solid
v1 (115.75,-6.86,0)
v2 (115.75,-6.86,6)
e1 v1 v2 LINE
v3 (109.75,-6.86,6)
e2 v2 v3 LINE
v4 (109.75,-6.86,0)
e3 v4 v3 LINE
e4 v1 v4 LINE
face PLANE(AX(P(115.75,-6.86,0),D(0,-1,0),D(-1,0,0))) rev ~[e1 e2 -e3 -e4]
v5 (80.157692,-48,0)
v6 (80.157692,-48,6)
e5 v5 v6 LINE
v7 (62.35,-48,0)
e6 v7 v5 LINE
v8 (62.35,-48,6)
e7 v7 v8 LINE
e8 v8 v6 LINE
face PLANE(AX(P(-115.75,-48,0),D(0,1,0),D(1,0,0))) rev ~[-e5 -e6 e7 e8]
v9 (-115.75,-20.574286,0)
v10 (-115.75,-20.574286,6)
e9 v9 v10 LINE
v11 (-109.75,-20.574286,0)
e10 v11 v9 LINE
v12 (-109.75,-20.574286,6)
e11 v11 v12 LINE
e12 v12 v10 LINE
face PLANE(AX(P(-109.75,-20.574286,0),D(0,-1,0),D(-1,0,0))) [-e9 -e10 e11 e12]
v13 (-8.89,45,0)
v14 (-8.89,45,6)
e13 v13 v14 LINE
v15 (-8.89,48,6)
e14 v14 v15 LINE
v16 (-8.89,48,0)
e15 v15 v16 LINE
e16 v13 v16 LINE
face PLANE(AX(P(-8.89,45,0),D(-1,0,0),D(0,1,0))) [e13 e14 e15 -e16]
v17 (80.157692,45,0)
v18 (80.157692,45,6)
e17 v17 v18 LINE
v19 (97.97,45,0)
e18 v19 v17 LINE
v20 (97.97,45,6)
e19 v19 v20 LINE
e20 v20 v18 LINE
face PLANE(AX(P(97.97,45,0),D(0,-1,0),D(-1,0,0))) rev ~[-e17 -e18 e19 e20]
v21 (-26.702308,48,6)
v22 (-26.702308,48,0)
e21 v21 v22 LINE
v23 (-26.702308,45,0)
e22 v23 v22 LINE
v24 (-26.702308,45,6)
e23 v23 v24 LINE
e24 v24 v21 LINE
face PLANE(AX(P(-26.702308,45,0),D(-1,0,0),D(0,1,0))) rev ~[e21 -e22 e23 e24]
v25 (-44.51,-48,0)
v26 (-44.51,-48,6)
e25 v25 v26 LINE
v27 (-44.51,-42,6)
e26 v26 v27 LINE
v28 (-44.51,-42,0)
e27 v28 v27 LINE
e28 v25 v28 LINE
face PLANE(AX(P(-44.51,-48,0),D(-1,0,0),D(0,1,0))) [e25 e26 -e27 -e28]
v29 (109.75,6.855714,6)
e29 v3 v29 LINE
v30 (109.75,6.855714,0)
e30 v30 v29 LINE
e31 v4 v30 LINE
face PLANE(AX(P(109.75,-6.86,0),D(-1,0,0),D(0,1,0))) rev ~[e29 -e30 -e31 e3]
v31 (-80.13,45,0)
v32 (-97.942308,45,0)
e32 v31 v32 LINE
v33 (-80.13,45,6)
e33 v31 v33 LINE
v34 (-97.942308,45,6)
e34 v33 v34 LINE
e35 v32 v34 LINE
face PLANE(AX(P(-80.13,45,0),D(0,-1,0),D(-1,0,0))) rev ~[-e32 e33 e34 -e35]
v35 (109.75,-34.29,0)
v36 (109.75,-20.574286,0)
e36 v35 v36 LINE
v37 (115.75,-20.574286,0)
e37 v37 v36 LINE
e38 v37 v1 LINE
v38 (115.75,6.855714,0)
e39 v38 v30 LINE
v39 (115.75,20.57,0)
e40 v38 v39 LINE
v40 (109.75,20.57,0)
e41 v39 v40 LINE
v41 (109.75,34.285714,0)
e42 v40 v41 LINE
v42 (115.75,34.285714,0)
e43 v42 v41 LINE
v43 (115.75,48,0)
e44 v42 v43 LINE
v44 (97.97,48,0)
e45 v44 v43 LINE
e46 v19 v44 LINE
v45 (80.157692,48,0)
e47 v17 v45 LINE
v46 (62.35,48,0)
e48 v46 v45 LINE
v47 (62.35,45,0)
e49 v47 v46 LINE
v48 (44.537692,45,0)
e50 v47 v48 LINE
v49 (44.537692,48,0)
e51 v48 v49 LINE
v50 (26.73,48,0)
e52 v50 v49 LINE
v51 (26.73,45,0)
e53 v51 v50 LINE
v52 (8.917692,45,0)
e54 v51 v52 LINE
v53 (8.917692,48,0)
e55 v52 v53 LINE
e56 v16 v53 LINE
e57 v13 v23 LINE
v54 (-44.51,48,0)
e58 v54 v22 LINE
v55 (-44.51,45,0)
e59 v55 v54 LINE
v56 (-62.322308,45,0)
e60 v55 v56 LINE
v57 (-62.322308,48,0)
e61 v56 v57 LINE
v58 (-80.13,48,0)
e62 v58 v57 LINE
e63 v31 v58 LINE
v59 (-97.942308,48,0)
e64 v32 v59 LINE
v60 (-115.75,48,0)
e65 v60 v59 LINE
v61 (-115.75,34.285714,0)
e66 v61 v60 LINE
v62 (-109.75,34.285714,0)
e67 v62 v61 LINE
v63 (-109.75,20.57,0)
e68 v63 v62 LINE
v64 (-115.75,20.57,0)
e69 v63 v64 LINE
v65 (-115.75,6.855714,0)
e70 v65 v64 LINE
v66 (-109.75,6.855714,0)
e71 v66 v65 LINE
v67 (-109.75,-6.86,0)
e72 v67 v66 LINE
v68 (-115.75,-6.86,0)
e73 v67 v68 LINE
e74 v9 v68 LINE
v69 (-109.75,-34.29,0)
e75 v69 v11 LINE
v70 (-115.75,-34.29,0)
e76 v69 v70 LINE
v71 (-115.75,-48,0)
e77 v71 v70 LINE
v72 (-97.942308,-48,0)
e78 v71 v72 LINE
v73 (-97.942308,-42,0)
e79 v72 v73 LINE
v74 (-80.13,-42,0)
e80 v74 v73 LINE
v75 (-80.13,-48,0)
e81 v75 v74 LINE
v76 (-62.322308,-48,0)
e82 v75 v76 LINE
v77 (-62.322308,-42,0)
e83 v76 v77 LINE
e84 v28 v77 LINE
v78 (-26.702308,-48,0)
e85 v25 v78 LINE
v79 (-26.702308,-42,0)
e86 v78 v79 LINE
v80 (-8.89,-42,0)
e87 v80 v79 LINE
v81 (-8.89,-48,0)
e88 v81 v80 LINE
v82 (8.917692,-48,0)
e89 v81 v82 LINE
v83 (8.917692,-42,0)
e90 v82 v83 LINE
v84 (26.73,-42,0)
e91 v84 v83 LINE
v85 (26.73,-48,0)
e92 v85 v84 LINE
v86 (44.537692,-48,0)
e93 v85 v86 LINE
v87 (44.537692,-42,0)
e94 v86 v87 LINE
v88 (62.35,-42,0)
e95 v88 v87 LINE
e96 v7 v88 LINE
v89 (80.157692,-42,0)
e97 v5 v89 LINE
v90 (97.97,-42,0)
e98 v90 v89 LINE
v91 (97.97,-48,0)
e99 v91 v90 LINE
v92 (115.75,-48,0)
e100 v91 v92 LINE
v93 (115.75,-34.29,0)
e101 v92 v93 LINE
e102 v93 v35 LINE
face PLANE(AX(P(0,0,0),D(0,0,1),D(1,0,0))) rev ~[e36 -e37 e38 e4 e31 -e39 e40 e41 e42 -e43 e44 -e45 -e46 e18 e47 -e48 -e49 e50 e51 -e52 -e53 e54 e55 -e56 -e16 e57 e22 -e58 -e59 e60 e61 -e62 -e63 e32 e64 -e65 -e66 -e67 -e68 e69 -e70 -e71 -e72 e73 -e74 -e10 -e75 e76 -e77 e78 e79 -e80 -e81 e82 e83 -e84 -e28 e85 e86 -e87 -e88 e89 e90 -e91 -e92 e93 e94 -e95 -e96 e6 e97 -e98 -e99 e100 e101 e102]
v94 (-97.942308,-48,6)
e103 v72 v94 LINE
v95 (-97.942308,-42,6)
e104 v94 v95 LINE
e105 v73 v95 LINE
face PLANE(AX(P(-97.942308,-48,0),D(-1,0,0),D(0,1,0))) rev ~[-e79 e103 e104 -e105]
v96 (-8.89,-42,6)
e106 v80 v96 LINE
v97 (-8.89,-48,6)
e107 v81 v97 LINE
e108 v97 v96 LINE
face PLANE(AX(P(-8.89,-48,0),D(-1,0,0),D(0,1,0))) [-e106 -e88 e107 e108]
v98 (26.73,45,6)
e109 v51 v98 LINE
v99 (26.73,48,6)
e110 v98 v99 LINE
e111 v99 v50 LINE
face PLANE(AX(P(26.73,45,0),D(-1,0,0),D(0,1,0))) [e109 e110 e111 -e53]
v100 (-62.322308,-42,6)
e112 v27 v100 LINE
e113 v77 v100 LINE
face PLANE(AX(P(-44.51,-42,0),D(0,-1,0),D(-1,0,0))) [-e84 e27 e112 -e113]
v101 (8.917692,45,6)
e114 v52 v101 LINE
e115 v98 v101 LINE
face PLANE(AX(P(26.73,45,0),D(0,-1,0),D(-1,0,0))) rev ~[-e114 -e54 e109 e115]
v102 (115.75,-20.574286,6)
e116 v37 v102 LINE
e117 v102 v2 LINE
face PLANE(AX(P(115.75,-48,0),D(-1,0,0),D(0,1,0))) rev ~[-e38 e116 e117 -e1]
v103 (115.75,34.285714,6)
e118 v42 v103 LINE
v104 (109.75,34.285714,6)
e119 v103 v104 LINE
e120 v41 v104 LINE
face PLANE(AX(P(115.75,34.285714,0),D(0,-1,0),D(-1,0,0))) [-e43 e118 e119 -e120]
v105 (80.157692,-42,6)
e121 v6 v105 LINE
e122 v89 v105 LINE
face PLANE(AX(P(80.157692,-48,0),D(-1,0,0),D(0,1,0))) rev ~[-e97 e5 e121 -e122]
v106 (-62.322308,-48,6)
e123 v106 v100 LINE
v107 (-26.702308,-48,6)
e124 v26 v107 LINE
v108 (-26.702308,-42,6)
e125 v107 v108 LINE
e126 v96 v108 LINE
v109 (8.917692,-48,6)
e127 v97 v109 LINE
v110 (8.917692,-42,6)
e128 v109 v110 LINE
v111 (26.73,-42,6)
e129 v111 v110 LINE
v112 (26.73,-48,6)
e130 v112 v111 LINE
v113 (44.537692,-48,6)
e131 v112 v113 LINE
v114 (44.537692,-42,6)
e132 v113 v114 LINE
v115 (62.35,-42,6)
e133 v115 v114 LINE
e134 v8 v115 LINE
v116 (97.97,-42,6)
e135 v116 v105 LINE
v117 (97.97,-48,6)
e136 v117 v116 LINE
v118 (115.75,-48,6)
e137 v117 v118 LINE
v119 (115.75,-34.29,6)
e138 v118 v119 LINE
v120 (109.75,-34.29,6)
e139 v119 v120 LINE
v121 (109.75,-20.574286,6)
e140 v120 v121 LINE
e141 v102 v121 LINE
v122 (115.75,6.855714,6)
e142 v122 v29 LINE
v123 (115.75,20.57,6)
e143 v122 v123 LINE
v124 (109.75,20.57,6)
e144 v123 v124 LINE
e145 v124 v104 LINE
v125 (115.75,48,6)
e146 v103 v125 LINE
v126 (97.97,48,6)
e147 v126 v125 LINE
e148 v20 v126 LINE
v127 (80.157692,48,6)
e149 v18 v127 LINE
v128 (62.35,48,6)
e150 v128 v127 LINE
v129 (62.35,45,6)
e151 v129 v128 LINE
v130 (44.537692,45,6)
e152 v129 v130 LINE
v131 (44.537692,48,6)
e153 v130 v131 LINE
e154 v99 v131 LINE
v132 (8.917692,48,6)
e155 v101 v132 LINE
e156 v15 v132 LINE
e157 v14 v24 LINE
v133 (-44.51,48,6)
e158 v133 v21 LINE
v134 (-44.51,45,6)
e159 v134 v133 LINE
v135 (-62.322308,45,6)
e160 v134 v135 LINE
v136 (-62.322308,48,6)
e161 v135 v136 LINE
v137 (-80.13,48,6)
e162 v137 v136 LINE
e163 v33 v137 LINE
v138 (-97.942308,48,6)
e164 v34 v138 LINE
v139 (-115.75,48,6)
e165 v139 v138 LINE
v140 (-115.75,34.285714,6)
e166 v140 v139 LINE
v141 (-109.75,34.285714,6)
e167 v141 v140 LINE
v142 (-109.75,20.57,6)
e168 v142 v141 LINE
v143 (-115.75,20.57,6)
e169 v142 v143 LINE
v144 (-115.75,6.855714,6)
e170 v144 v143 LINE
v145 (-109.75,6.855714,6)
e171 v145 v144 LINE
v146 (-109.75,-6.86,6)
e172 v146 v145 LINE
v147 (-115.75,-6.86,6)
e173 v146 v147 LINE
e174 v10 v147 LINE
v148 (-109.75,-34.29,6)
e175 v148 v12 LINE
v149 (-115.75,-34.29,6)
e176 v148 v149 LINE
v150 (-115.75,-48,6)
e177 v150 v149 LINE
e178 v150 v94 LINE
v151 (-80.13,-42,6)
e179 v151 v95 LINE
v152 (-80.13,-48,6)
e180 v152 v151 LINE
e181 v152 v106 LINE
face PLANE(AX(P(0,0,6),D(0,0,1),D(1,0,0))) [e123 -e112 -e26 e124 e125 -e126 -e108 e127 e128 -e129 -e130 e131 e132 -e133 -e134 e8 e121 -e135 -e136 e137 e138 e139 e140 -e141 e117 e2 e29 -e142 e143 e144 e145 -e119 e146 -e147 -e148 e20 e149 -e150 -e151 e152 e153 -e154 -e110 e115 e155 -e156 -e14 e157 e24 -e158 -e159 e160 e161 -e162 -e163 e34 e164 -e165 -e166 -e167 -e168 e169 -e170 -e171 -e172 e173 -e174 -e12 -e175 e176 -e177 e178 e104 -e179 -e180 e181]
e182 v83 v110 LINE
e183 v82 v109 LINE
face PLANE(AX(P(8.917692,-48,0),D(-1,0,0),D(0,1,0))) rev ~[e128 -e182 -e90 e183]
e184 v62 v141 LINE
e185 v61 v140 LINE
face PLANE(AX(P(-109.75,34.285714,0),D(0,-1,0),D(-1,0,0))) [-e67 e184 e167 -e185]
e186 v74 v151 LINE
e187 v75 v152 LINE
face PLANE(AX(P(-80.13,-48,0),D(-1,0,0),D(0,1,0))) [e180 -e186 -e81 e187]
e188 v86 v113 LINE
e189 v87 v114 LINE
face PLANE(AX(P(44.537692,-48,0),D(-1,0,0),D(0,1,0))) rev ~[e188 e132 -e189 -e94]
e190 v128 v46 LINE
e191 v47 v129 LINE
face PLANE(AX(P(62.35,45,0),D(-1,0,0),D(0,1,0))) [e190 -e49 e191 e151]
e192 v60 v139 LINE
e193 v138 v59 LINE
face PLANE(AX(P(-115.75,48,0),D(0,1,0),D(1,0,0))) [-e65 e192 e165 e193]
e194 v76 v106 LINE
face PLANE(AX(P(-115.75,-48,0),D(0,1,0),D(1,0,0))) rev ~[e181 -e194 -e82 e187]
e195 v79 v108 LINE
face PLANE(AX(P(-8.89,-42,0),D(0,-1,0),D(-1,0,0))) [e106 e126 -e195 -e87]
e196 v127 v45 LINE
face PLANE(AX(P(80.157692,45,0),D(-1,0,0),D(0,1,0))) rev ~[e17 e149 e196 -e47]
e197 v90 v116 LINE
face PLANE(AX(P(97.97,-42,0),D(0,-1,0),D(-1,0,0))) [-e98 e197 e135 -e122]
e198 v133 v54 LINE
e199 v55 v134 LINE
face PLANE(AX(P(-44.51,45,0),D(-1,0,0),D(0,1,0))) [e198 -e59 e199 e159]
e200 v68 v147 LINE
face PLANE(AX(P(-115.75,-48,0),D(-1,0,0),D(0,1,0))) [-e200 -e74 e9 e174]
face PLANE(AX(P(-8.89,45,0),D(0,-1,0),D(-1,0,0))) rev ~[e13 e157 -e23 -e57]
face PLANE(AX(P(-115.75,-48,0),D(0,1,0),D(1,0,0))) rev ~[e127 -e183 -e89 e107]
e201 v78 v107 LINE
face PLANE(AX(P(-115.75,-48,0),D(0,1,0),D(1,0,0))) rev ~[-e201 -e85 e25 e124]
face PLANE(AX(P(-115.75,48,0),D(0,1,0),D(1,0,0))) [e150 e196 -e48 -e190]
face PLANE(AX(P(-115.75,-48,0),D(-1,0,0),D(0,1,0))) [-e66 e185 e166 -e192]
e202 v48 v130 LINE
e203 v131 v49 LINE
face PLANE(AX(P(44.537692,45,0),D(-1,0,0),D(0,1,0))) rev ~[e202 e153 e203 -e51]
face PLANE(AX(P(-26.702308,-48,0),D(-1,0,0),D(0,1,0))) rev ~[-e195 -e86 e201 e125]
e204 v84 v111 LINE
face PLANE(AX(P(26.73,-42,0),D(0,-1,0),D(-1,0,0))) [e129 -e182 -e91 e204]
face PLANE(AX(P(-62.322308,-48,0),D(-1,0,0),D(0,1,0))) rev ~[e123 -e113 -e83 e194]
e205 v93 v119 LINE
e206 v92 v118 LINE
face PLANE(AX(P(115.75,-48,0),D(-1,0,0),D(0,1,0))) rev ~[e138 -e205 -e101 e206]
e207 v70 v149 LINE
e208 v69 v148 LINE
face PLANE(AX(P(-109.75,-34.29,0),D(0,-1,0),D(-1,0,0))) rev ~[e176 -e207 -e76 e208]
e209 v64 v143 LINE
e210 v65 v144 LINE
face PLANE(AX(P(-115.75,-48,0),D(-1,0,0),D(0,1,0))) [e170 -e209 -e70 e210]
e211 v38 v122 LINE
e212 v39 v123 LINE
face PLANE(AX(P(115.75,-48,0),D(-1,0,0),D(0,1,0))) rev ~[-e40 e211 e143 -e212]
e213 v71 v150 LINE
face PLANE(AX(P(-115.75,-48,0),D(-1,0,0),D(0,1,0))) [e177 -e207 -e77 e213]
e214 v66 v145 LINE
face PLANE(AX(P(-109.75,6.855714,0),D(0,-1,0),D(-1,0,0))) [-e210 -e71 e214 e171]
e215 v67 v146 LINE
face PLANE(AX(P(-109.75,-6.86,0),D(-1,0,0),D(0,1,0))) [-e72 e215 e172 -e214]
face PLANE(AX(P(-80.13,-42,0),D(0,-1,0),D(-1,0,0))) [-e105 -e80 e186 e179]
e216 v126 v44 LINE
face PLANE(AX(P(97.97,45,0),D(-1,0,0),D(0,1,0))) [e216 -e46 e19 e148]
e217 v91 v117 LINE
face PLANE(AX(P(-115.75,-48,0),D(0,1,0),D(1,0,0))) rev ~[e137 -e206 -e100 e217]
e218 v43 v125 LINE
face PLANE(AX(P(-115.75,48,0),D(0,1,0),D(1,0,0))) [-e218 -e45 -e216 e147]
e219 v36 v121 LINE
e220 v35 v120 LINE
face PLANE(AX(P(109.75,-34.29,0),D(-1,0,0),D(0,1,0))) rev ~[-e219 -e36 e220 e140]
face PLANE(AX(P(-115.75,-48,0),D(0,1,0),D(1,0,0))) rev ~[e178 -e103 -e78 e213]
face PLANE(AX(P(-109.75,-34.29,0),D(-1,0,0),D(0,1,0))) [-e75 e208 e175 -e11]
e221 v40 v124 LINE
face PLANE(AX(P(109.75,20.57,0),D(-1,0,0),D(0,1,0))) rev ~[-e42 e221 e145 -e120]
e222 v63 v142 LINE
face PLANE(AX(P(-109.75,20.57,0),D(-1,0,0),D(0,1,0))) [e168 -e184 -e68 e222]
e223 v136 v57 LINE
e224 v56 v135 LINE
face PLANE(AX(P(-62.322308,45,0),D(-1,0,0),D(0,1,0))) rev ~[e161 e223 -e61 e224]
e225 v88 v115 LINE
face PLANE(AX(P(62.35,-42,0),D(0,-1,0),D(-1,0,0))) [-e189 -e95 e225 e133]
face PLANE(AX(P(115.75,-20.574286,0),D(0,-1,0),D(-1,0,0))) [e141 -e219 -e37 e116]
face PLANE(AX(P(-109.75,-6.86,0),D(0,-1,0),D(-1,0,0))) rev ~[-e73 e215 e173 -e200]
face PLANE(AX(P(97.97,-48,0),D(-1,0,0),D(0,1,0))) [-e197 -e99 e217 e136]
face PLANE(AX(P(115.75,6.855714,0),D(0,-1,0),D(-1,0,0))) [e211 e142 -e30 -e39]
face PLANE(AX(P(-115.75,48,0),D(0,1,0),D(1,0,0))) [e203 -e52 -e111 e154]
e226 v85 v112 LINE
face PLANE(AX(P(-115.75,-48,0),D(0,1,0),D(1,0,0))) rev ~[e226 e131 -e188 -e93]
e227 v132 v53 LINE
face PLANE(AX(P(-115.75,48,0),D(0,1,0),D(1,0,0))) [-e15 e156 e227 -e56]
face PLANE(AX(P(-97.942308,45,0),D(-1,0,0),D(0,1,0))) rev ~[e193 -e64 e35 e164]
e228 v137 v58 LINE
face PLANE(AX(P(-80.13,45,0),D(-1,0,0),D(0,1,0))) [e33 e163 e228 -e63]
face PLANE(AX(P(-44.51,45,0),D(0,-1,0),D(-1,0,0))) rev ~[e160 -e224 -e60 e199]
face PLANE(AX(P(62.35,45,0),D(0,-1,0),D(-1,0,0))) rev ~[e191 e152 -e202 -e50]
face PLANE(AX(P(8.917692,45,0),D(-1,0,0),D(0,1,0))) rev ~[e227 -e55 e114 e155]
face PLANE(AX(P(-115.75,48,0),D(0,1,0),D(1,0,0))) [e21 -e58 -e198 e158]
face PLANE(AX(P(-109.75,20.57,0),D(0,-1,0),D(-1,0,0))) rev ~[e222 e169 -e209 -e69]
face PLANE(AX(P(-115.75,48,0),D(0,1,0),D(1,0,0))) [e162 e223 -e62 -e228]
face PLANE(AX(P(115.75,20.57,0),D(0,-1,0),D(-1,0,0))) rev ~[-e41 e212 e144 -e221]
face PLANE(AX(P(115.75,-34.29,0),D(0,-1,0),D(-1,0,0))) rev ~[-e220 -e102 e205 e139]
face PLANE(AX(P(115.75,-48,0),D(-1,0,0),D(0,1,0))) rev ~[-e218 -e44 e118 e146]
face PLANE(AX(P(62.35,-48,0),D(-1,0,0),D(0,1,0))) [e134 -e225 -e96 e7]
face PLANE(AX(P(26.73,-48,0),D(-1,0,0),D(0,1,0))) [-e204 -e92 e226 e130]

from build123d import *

# Parameters (mm, degrees)
ESBO_O1_W                = 231.5
ESBO_O1_H                = 96
RESSALTO_EXTRUS_O1_DEPTH = 6
CORTE_EXTRUS_O1_REACH    = 127.451
ESBO_O2_W                = 17.812307692
ESBO_O2_H                = 6
CORTE_EXTRUS_O3_REACH    = 127.451
ESBO_O4_W                = 6
ESBO_O4_H                = 13.715714286


with BuildPart() as part:
    # Esboço1 → Ressalto-extrusão1 (new body)
    with BuildSketch(Plane.XY):
        Rectangle(ESBO_O1_W, ESBO_O1_H)
    extrude(amount=RESSALTO_EXTRUS_O1_DEPTH)

    # Esboço2 → Corte-extrusão1 (cut, up to next)
    with BuildSketch(Plane(origin=(0, 0, 0), x_dir=(-1, 0, 0), z_dir=(0, 0, -1)), mode=Mode.PRIVATE) as corte_extrus_o1_sk1:
        with Locations((17.796153846, -45)):
            Rectangle(ESBO_O2_W, ESBO_O2_H)
    corte_extrus_o1_tool1 = extrude(corte_extrus_o1_sk1.sketch, amount=-CORTE_EXTRUS_O1_REACH, mode=Mode.PRIVATE) & part.part
    # Esboço2 → Corte-extrusão1 (cut, up to next)
    with BuildSketch(Plane(origin=(0, 0, 0), x_dir=(-1, 0, 0), z_dir=(0, 0, -1)), mode=Mode.PRIVATE) as corte_extrus_o1_sk2:
        with Locations((53.416153846, -45)):
            Rectangle(ESBO_O2_W, ESBO_O2_H)
    corte_extrus_o1_tool2 = extrude(corte_extrus_o1_sk2.sketch, amount=-CORTE_EXTRUS_O1_REACH, mode=Mode.PRIVATE) & part.part
    # Esboço2 → Corte-extrusão1 (cut, up to next)
    with BuildSketch(Plane(origin=(0, 0, 0), x_dir=(-1, 0, 0), z_dir=(0, 0, -1)), mode=Mode.PRIVATE) as corte_extrus_o1_sk3:
        with Locations((89.036153846, -45)):
            Rectangle(ESBO_O2_W, ESBO_O2_H)
    corte_extrus_o1_tool3 = extrude(corte_extrus_o1_sk3.sketch, amount=-CORTE_EXTRUS_O1_REACH, mode=Mode.PRIVATE) & part.part
    # Esboço2 → Corte-extrusão1 (cut, up to next)
    with BuildSketch(Plane(origin=(0, 0, 0), x_dir=(-1, 0, 0), z_dir=(0, 0, -1)), mode=Mode.PRIVATE) as corte_extrus_o1_sk4:
        with Locations((-17.823846154, -45)):
            Rectangle(ESBO_O2_W, ESBO_O2_H)
    corte_extrus_o1_tool4 = extrude(corte_extrus_o1_sk4.sketch, amount=-CORTE_EXTRUS_O1_REACH, mode=Mode.PRIVATE) & part.part
    # Esboço2 → Corte-extrusão1 (cut, up to next)
    with BuildSketch(Plane(origin=(0, 0, 0), x_dir=(-1, 0, 0), z_dir=(0, 0, -1)), mode=Mode.PRIVATE) as corte_extrus_o1_sk5:
        with Locations((-53.443846154, -45)):
            Rectangle(ESBO_O2_W, ESBO_O2_H)
    corte_extrus_o1_tool5 = extrude(corte_extrus_o1_sk5.sketch, amount=-CORTE_EXTRUS_O1_REACH, mode=Mode.PRIVATE) & part.part
    # Esboço2 → Corte-extrusão1 (cut, up to next)
    with BuildSketch(Plane(origin=(0, 0, 0), x_dir=(-1, 0, 0), z_dir=(0, 0, -1)), mode=Mode.PRIVATE) as corte_extrus_o1_sk6:
        with Locations((-89.063846154, -45)):
            Rectangle(ESBO_O2_W, ESBO_O2_H)
    corte_extrus_o1_tool6 = extrude(corte_extrus_o1_sk6.sketch, amount=-CORTE_EXTRUS_O1_REACH, mode=Mode.PRIVATE) & part.part
    # Esboço2 → Corte-extrusão1 (cut, up to next)
    with BuildSketch(Plane(origin=(0, 0, 0), x_dir=(-1, 0, 0), z_dir=(0, 0, -1)), mode=Mode.PRIVATE) as corte_extrus_o1_sk7:
        with Locations((-89.063846154, 48)):
            Rectangle(ESBO_O2_W, ESBO_O2_H)
    corte_extrus_o1_tool7 = extrude(corte_extrus_o1_sk7.sketch, amount=-CORTE_EXTRUS_O1_REACH, mode=Mode.PRIVATE) & part.part
    # Esboço2 → Corte-extrusão1 (cut, up to next)
    with BuildSketch(Plane(origin=(0, 0, 0), x_dir=(-1, 0, 0), z_dir=(0, 0, -1)), mode=Mode.PRIVATE) as corte_extrus_o1_sk8:
        with Locations((-53.443846154, 48)):
            Rectangle(ESBO_O2_W, ESBO_O2_H)
    corte_extrus_o1_tool8 = extrude(corte_extrus_o1_sk8.sketch, amount=-CORTE_EXTRUS_O1_REACH, mode=Mode.PRIVATE) & part.part
    # Esboço2 → Corte-extrusão1 (cut, up to next)
    with BuildSketch(Plane(origin=(0, 0, 0), x_dir=(-1, 0, 0), z_dir=(0, 0, -1)), mode=Mode.PRIVATE) as corte_extrus_o1_sk9:
        with Locations((-17.823846154, 48)):
            Rectangle(ESBO_O2_W, ESBO_O2_H)
    corte_extrus_o1_tool9 = extrude(corte_extrus_o1_sk9.sketch, amount=-CORTE_EXTRUS_O1_REACH, mode=Mode.PRIVATE) & part.part
    # Esboço2 → Corte-extrusão1 (cut, up to next)
    with BuildSketch(Plane(origin=(0, 0, 0), x_dir=(-1, 0, 0), z_dir=(0, 0, -1)), mode=Mode.PRIVATE) as corte_extrus_o1_sk10:
        with Locations((17.796153846, 48)):
            Rectangle(ESBO_O2_W, ESBO_O2_H)
    corte_extrus_o1_tool10 = extrude(corte_extrus_o1_sk10.sketch, amount=-CORTE_EXTRUS_O1_REACH, mode=Mode.PRIVATE) & part.part
    # Esboço2 → Corte-extrusão1 (cut, up to next)
    with BuildSketch(Plane(origin=(0, 0, 0), x_dir=(-1, 0, 0), z_dir=(0, 0, -1)), mode=Mode.PRIVATE) as corte_extrus_o1_sk11:
        with Locations((89.036153846, 48)):
            Rectangle(ESBO_O2_W, ESBO_O2_H)
    corte_extrus_o1_tool11 = extrude(corte_extrus_o1_sk11.sketch, amount=-CORTE_EXTRUS_O1_REACH, mode=Mode.PRIVATE) & part.part
    # Esboço2 → Corte-extrusão1 (cut, up to next)
    with BuildSketch(Plane(origin=(0, 0, 0), x_dir=(-1, 0, 0), z_dir=(0, 0, -1)), mode=Mode.PRIVATE) as corte_extrus_o1_sk12:
        with Locations((53.416153846, 48)):
            Rectangle(ESBO_O2_W, ESBO_O2_H)
    corte_extrus_o1_tool12 = extrude(corte_extrus_o1_sk12.sketch, amount=-CORTE_EXTRUS_O1_REACH, mode=Mode.PRIVATE) & part.part
    add(corte_extrus_o1_tool1.solids().sort_by_distance((-17.796154, -45, 0))[0], mode=Mode.SUBTRACT)
    add(corte_extrus_o1_tool2.solids().sort_by_distance((-53.416154, -45, 0))[0], mode=Mode.SUBTRACT)
    add(corte_extrus_o1_tool3.solids().sort_by_distance((-89.036154, -45, 0))[0], mode=Mode.SUBTRACT)
    add(corte_extrus_o1_tool4.solids().sort_by_distance((17.823846, -45, 0))[0], mode=Mode.SUBTRACT)
    add(corte_extrus_o1_tool5.solids().sort_by_distance((53.443846, -45, 0))[0], mode=Mode.SUBTRACT)
    add(corte_extrus_o1_tool6.solids().sort_by_distance((89.063846, -45, 0))[0], mode=Mode.SUBTRACT)
    add(corte_extrus_o1_tool7.solids().sort_by_distance((89.063846, 48, 0))[0], mode=Mode.SUBTRACT)
    add(corte_extrus_o1_tool8.solids().sort_by_distance((53.443846, 48, 0))[0], mode=Mode.SUBTRACT)
    add(corte_extrus_o1_tool9.solids().sort_by_distance((17.823846, 48, 0))[0], mode=Mode.SUBTRACT)
    add(corte_extrus_o1_tool10.solids().sort_by_distance((-17.796154, 48, 0))[0], mode=Mode.SUBTRACT)
    add(corte_extrus_o1_tool11.solids().sort_by_distance((-89.036154, 48, 0))[0], mode=Mode.SUBTRACT)
    add(corte_extrus_o1_tool12.solids().sort_by_distance((-53.416154, 48, 0))[0], mode=Mode.SUBTRACT)

    # Esboço4 → Corte-extrusão3 (cut, up to next)
    with BuildSketch(Plane(origin=(0, 0, 0), x_dir=(-1, 0, 0), z_dir=(0, 0, -1)), mode=Mode.PRIVATE) as corte_extrus_o3_sk1:
        with Locations((112.75, -0.002142857)):
            Rectangle(ESBO_O4_W, ESBO_O4_H)
    corte_extrus_o3_tool1 = extrude(corte_extrus_o3_sk1.sketch, amount=-CORTE_EXTRUS_O3_REACH, mode=Mode.PRIVATE) & part.part
    # Esboço4 → Corte-extrusão3 (cut, up to next)
    with BuildSketch(Plane(origin=(0, 0, 0), x_dir=(-1, 0, 0), z_dir=(0, 0, -1)), mode=Mode.PRIVATE) as corte_extrus_o3_sk2:
        with Locations((112.75, 27.427857143)):
            Rectangle(ESBO_O4_W, ESBO_O4_H)
    corte_extrus_o3_tool2 = extrude(corte_extrus_o3_sk2.sketch, amount=-CORTE_EXTRUS_O3_REACH, mode=Mode.PRIVATE) & part.part
    # Esboço4 → Corte-extrusão3 (cut, up to next)
    with BuildSketch(Plane(origin=(0, 0, 0), x_dir=(-1, 0, 0), z_dir=(0, 0, -1)), mode=Mode.PRIVATE) as corte_extrus_o3_sk3:
        with Locations((-112.75, 27.427857143)):
            Rectangle(ESBO_O4_W, ESBO_O4_H)
    corte_extrus_o3_tool3 = extrude(corte_extrus_o3_sk3.sketch, amount=-CORTE_EXTRUS_O3_REACH, mode=Mode.PRIVATE) & part.part
    # Esboço4 → Corte-extrusão3 (cut, up to next)
    with BuildSketch(Plane(origin=(0, 0, 0), x_dir=(-1, 0, 0), z_dir=(0, 0, -1)), mode=Mode.PRIVATE) as corte_extrus_o3_sk4:
        with Locations((-112.75, -0.002142857)):
            Rectangle(ESBO_O4_W, ESBO_O4_H)
    corte_extrus_o3_tool4 = extrude(corte_extrus_o3_sk4.sketch, amount=-CORTE_EXTRUS_O3_REACH, mode=Mode.PRIVATE) & part.part
    # Esboço4 → Corte-extrusão3 (cut, up to next)
    with BuildSketch(Plane(origin=(0, 0, 0), x_dir=(-1, 0, 0), z_dir=(0, 0, -1)), mode=Mode.PRIVATE) as corte_extrus_o3_sk5:
        with Locations((-112.75, -27.432142857)):
            Rectangle(ESBO_O4_W, ESBO_O4_H)
    corte_extrus_o3_tool5 = extrude(corte_extrus_o3_sk5.sketch, amount=-CORTE_EXTRUS_O3_REACH, mode=Mode.PRIVATE) & part.part
    # Esboço4 → Corte-extrusão3 (cut, up to next)
    with BuildSketch(Plane(origin=(0, 0, 0), x_dir=(-1, 0, 0), z_dir=(0, 0, -1)), mode=Mode.PRIVATE) as corte_extrus_o3_sk6:
        with Locations((112.75, -27.432142857)):
            Rectangle(ESBO_O4_W, ESBO_O4_H)
    corte_extrus_o3_tool6 = extrude(corte_extrus_o3_sk6.sketch, amount=-CORTE_EXTRUS_O3_REACH, mode=Mode.PRIVATE) & part.part
    add(corte_extrus_o3_tool1.solids().sort_by_distance((-112.75, -0.002143, 0))[0], mode=Mode.SUBTRACT)
    add(corte_extrus_o3_tool2.solids().sort_by_distance((-112.75, 27.427857, 0))[0], mode=Mode.SUBTRACT)
    add(corte_extrus_o3_tool3.solids().sort_by_distance((112.75, 27.427857, 0))[0], mode=Mode.SUBTRACT)
    add(corte_extrus_o3_tool4.solids().sort_by_distance((112.75, -0.002143, 0))[0], mode=Mode.SUBTRACT)
    add(corte_extrus_o3_tool5.solids().sort_by_distance((112.75, -27.432143, 0))[0], mode=Mode.SUBTRACT)
    add(corte_extrus_o3_tool6.solids().sort_by_distance((-112.75, -27.432143, 0))[0], mode=Mode.SUBTRACT)


solid = part.part
